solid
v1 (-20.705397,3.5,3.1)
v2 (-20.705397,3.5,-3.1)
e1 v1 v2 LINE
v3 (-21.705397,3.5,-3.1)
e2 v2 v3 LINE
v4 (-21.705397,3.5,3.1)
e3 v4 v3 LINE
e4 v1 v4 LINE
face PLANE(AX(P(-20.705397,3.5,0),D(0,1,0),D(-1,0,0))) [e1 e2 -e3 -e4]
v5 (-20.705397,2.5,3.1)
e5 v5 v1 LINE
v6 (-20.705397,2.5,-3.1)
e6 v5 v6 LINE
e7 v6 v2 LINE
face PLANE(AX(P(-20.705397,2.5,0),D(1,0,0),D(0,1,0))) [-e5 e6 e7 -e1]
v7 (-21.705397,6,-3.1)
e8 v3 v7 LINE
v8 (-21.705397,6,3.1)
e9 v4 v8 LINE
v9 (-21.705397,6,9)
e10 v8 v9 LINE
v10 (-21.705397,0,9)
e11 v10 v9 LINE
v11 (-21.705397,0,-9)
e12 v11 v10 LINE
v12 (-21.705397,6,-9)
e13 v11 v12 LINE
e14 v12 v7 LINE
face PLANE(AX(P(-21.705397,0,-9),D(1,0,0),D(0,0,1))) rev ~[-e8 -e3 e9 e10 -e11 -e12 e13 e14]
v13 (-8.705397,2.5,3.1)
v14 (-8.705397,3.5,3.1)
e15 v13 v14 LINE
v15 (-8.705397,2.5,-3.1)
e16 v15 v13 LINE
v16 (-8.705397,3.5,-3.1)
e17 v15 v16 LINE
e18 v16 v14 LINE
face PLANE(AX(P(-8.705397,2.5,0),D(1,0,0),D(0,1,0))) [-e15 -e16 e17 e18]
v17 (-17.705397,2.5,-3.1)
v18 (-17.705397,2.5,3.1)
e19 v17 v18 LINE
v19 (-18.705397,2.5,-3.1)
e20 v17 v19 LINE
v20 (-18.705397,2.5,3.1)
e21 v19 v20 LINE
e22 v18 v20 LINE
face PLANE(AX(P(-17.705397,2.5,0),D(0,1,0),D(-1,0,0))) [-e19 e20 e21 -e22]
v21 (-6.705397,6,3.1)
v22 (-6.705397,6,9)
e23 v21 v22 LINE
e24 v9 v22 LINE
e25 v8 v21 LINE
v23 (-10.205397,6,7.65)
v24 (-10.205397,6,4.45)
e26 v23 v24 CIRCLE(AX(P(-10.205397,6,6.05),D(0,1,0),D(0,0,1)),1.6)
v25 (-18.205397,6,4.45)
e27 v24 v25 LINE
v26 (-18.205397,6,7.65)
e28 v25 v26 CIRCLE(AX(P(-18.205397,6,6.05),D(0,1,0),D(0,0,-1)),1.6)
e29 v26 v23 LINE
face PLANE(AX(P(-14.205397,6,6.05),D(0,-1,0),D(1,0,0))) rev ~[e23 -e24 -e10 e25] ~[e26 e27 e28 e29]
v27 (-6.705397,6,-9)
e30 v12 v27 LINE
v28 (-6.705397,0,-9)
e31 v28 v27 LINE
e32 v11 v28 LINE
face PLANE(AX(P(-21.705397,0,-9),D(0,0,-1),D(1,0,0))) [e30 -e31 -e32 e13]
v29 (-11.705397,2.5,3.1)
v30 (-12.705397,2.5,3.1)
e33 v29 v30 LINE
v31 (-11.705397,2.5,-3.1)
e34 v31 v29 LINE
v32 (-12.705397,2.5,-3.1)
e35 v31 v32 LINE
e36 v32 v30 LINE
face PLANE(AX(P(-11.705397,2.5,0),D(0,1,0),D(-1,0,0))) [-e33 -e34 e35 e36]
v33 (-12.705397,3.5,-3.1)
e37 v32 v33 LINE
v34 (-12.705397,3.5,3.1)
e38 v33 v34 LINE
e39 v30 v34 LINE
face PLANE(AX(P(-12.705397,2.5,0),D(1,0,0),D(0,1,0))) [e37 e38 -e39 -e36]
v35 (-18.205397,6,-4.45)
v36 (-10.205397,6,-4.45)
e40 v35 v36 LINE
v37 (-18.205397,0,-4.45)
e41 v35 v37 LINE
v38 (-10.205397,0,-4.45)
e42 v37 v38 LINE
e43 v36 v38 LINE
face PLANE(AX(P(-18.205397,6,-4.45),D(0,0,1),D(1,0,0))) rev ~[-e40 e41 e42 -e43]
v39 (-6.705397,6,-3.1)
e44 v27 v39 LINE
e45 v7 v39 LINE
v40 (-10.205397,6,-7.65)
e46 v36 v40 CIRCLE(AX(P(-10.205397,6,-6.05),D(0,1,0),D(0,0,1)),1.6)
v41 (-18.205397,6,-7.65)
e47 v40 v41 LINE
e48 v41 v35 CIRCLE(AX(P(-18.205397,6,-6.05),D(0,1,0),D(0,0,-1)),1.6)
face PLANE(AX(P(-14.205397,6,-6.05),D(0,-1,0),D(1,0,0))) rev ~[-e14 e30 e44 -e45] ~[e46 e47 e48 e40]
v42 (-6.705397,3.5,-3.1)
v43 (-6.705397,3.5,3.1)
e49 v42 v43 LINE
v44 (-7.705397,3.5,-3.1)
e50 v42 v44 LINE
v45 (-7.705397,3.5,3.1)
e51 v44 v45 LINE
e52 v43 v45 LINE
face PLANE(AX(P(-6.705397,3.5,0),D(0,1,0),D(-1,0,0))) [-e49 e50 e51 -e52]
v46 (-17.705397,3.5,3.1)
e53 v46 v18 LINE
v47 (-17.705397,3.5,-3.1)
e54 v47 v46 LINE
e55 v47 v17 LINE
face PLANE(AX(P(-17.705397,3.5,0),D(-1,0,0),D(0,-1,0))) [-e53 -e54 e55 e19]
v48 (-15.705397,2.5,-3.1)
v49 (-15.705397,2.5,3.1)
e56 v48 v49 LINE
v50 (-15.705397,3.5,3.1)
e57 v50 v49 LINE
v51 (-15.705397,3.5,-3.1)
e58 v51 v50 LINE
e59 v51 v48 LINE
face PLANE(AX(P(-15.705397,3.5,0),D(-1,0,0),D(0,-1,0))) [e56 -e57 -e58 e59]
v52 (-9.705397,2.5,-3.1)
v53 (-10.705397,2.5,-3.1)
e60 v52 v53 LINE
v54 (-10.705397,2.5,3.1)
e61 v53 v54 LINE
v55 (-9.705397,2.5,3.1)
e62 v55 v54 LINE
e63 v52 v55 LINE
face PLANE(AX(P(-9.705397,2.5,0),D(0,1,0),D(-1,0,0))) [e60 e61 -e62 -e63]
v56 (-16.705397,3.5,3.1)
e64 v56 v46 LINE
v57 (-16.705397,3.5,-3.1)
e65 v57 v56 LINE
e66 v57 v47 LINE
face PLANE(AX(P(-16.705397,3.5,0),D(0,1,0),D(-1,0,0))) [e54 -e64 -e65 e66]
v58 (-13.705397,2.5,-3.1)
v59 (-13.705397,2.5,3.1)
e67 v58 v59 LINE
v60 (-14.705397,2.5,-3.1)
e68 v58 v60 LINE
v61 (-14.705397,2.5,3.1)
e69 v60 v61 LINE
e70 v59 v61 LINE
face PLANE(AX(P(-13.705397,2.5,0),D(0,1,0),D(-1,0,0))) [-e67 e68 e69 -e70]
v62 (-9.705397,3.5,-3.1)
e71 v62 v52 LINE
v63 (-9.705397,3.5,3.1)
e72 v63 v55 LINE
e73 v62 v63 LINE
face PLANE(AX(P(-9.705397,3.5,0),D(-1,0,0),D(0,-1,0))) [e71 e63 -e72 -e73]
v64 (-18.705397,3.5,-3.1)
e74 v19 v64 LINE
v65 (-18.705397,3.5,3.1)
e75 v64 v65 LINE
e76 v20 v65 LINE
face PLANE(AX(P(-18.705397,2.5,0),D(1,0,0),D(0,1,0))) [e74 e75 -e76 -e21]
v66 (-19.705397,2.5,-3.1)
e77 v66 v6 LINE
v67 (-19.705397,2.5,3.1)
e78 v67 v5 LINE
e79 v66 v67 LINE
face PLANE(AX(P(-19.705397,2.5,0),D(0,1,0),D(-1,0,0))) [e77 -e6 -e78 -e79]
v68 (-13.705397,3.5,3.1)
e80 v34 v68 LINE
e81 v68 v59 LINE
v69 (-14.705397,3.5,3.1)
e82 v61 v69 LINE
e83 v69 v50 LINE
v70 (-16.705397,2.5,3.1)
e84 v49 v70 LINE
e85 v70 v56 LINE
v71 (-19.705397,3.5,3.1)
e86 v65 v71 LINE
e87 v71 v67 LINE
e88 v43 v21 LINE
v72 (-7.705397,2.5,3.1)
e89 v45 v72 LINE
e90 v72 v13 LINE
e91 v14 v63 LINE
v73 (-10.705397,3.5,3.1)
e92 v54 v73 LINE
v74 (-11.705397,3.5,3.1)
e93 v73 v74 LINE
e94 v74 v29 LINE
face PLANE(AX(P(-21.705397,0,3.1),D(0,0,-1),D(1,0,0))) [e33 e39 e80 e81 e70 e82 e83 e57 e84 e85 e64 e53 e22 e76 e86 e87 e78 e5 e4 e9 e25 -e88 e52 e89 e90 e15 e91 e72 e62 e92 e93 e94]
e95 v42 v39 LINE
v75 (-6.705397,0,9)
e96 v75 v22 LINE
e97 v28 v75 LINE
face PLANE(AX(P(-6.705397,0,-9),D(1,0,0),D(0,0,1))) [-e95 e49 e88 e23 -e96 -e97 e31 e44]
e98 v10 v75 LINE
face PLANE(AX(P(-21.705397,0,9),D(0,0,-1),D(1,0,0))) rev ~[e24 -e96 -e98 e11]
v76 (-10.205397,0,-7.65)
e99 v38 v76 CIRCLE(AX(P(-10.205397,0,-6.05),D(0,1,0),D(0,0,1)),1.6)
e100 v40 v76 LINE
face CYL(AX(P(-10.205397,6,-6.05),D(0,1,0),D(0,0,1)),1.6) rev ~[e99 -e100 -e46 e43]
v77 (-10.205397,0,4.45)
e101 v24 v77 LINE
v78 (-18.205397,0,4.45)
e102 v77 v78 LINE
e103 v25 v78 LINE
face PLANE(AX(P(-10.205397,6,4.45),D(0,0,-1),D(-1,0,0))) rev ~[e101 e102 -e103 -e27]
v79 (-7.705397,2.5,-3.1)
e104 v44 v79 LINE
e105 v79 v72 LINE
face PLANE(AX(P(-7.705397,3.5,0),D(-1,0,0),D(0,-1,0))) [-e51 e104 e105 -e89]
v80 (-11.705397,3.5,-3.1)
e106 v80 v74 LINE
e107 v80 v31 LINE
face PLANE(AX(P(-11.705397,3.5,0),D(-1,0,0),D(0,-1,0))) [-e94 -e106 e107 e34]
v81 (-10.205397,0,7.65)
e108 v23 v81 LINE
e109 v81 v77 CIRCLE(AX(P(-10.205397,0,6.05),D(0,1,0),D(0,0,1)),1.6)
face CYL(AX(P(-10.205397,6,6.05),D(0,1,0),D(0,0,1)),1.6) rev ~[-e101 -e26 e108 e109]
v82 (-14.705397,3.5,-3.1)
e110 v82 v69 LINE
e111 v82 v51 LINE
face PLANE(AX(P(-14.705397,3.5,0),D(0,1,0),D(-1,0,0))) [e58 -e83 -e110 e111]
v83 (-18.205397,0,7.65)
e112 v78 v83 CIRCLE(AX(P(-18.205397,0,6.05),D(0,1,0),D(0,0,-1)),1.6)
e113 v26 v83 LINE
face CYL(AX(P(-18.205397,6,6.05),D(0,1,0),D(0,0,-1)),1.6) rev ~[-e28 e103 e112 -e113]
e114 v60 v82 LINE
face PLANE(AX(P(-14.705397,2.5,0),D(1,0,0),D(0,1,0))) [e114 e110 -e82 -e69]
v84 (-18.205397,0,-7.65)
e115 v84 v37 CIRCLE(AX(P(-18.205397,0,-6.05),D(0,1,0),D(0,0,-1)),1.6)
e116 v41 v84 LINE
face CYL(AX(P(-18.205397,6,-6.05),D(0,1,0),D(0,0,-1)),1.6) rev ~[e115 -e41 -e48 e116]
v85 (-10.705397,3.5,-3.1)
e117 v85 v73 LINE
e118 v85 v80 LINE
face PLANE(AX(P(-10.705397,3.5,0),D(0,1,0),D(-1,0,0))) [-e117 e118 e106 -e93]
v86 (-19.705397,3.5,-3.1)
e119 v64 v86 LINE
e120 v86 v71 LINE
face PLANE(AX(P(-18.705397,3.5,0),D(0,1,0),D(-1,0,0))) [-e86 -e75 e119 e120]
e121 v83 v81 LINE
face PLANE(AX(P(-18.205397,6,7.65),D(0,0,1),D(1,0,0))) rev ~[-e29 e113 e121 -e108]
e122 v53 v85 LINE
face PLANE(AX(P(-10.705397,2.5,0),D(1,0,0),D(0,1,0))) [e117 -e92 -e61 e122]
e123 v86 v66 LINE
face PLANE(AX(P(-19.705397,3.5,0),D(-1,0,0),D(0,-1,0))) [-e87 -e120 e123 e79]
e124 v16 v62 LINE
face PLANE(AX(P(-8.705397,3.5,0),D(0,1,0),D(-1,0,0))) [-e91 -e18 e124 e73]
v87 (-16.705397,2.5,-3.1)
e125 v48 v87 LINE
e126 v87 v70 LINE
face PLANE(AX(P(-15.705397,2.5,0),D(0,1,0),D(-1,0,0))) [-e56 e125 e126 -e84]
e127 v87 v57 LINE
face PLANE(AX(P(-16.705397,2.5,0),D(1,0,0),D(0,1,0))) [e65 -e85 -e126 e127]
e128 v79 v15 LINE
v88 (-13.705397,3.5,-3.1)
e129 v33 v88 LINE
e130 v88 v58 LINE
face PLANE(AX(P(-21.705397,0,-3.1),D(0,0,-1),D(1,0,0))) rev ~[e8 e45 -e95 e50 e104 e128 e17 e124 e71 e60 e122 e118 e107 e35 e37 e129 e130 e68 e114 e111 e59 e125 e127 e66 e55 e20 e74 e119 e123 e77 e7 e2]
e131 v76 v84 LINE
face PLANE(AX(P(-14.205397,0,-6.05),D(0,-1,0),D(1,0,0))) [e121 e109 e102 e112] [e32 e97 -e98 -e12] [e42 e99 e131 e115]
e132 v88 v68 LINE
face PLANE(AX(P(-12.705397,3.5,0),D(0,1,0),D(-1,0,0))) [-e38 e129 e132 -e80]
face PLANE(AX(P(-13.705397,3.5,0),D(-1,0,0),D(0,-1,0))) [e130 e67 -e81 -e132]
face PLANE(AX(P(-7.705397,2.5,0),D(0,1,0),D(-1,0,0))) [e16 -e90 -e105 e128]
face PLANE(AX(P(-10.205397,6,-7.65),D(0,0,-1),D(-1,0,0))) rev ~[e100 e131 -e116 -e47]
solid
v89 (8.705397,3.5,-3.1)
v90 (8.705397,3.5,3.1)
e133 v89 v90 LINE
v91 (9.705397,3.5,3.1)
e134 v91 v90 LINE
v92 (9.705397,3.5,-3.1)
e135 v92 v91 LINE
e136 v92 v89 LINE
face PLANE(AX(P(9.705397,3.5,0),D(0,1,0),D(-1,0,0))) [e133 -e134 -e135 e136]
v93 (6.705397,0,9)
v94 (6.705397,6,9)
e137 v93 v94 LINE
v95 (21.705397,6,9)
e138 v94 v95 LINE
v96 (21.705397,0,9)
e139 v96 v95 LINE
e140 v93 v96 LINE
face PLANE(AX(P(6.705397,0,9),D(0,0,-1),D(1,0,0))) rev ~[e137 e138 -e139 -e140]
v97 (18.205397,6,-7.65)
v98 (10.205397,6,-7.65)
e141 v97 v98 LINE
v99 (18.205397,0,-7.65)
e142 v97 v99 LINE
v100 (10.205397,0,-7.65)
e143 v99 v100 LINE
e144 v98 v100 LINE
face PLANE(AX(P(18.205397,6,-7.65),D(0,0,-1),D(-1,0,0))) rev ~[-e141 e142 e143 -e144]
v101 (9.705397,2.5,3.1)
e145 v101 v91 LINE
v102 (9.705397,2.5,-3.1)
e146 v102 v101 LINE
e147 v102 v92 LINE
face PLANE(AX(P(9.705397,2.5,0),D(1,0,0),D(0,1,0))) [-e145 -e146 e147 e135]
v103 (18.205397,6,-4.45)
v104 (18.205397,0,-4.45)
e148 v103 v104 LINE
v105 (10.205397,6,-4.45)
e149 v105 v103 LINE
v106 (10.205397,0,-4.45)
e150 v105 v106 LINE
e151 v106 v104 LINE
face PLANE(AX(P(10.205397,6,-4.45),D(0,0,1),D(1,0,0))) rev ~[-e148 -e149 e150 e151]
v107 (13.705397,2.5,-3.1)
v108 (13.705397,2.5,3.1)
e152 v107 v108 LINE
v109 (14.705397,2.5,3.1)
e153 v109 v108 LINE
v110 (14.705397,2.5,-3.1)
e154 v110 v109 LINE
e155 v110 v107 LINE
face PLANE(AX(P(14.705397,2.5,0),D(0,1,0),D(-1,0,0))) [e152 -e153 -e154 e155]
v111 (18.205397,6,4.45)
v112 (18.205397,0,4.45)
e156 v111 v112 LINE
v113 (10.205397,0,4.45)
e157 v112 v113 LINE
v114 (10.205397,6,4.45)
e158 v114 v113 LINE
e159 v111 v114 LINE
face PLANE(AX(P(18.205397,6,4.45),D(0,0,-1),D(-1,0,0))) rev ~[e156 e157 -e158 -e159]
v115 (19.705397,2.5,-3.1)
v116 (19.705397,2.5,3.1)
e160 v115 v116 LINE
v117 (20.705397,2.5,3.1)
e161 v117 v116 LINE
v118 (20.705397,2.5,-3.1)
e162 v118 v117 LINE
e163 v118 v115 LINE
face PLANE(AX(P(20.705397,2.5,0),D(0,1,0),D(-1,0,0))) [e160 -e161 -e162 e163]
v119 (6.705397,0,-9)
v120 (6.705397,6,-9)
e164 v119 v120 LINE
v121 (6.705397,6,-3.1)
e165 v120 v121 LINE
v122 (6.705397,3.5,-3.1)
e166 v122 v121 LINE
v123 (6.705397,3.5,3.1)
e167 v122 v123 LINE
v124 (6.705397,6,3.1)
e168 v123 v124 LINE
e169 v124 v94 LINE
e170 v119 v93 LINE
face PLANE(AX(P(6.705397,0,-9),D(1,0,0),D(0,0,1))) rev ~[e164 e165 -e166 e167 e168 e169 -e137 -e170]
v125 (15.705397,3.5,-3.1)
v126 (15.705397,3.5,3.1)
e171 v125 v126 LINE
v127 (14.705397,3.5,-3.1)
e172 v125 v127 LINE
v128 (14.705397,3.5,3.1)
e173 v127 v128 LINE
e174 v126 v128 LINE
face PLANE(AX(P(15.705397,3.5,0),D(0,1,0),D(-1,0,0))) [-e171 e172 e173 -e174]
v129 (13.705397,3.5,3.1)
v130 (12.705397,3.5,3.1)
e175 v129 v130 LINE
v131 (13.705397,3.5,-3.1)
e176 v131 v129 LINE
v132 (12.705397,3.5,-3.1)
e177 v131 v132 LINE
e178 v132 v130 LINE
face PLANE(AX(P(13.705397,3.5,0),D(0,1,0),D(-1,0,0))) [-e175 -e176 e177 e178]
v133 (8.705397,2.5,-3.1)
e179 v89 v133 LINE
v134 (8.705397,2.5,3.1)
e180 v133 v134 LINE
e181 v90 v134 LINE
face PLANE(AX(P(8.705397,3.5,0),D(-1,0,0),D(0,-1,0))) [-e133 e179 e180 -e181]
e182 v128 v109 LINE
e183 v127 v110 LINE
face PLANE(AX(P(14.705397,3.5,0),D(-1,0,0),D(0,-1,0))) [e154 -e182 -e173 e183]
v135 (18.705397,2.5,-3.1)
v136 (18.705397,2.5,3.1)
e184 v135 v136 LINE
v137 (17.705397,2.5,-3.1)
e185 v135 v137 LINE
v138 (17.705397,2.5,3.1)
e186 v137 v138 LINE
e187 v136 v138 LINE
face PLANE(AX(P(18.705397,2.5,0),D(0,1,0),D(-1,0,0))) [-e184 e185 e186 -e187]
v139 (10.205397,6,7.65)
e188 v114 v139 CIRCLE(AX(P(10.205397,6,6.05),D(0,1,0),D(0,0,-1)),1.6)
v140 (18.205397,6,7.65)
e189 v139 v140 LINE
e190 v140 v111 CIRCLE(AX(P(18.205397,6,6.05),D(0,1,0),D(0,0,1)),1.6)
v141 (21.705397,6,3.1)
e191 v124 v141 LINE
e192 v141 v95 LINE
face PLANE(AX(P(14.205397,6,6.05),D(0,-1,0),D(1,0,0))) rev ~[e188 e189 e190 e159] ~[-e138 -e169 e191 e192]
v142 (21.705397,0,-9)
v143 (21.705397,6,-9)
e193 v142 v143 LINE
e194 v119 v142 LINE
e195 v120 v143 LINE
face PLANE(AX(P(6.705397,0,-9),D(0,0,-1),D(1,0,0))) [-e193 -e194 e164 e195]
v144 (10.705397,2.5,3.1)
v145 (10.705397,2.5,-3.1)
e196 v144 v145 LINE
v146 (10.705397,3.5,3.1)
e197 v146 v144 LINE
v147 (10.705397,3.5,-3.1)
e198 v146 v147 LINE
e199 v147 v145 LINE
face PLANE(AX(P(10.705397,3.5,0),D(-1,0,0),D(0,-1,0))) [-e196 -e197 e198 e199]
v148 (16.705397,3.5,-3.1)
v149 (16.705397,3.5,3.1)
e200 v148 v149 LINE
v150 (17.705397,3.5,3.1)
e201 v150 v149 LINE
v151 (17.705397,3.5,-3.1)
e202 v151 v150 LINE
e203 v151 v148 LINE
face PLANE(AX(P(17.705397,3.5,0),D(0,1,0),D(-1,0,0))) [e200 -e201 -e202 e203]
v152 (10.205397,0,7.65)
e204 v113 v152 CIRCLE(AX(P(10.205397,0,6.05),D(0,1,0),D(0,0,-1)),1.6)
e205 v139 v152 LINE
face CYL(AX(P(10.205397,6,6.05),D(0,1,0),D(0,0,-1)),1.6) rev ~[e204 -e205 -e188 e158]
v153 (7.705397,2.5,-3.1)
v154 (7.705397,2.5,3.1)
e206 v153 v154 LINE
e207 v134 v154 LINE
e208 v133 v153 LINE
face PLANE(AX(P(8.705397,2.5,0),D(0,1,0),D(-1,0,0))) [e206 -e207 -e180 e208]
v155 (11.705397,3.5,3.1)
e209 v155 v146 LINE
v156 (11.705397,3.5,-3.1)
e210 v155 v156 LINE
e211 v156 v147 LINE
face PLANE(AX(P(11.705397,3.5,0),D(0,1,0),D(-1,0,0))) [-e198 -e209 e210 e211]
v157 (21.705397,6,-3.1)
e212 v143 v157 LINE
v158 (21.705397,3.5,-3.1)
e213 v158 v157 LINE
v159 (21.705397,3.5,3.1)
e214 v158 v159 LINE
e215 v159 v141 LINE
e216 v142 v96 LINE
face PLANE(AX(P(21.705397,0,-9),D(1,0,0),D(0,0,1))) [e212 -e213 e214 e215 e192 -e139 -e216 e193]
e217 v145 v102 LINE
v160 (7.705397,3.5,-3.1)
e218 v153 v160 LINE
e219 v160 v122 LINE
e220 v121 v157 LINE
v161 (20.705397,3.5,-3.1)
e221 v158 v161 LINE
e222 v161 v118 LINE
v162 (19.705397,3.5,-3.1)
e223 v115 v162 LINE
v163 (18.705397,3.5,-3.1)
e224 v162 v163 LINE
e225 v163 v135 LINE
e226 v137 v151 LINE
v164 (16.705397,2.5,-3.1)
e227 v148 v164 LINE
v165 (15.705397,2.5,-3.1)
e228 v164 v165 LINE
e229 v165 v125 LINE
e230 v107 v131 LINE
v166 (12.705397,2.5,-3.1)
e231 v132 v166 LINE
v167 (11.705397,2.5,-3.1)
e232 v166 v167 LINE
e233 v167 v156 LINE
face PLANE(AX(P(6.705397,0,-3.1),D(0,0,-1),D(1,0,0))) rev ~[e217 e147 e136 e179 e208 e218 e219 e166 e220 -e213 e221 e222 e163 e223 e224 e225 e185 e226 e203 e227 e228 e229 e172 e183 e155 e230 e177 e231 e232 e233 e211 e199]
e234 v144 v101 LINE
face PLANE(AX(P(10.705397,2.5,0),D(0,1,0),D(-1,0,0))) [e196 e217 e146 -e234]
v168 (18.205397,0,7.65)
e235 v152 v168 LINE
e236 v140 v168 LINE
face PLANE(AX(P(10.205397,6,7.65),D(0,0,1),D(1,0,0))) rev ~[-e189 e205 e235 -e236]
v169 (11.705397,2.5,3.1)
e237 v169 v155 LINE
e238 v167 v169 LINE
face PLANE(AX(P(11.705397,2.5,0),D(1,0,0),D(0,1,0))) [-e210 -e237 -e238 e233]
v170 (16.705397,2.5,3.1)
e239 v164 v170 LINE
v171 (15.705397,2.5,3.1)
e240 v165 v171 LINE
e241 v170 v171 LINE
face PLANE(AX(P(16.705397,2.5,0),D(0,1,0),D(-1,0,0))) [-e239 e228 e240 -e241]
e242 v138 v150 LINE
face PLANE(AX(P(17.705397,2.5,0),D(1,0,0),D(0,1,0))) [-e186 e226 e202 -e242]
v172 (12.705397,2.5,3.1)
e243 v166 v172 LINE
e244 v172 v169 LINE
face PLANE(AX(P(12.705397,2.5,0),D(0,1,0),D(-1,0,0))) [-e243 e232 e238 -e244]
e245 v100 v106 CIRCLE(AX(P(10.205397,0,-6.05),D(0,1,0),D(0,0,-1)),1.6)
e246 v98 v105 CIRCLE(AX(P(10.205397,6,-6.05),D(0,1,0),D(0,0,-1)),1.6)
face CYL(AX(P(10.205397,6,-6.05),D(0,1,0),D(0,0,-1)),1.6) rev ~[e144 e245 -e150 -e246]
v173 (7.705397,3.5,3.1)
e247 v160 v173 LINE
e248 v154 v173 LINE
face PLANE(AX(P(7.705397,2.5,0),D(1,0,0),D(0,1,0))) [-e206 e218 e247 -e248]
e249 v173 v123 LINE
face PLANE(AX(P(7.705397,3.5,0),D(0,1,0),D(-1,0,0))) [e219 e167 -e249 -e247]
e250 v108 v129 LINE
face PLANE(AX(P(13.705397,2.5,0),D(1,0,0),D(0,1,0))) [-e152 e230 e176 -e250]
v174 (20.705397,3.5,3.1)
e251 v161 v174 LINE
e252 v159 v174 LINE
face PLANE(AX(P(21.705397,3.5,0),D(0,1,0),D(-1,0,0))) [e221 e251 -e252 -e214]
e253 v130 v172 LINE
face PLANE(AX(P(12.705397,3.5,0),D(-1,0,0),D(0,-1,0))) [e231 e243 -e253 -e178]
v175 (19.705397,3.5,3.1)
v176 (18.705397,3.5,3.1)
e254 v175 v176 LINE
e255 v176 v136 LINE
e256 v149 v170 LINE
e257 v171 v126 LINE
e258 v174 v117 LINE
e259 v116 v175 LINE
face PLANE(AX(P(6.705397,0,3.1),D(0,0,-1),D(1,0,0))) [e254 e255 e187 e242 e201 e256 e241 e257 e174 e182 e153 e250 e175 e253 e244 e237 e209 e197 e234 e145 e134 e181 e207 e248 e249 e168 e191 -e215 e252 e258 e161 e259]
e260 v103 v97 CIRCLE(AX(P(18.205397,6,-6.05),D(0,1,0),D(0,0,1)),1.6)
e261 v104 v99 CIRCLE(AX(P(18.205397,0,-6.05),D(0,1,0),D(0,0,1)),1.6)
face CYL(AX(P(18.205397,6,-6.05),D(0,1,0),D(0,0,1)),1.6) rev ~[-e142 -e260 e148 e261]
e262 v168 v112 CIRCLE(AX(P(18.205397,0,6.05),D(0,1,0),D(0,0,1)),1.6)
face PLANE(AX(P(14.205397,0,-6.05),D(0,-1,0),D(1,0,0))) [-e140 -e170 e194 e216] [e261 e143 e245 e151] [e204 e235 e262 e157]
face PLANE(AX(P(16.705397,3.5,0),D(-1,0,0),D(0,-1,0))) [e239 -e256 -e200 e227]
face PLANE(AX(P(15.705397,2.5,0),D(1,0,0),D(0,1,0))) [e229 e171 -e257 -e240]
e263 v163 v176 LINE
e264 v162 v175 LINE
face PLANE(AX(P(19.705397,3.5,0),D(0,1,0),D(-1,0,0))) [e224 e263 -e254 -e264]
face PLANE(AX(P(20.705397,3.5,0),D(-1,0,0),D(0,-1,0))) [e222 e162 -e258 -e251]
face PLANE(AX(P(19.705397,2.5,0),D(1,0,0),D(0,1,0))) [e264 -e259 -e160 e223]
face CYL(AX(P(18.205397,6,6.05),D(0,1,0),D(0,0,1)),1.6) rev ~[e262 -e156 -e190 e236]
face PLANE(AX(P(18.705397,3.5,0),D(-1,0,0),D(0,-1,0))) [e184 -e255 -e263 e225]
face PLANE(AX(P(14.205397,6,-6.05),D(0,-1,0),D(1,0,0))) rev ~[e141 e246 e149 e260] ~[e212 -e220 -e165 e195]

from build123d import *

# Parameters (mm, degrees)
F1_DEPTH      = 3.1
F1_DEPTH_BACK = 3.1
F2_DEPTH      = 3.1
F2_DEPTH_BACK = 3.1
F3_W          = 15
F3_H          = 5.9
F4_DEPTH      = 6
F5_DEPTH      = 6
F7_DEPTH      = 6
F8_DEPTH      = 6


with BuildPart() as f1:
    # F0 (on Top) → F1 (new body, two sides)
    with BuildSketch(Plane.XY) as f1_sk:
        Polygon((-21.705397, 3.5), (-21.705397, 0), (-6.705397, 0), (-6.705397, 2.5), (-6.705397, 3.5), (-7.705397, 3.5), (-7.705397, 2.5), (-8.705397, 2.5), (-8.705397, 3.5), (-9.705397, 3.5), (-9.705397, 2.5), (-10.705397, 2.5), (-10.705397, 3.5), (-11.705397, 3.5), (-11.705397, 2.5), (-12.705397, 2.5), (-12.705397, 3.5), (-13.705397, 3.5), (-13.705397, 2.5), (-14.705397, 2.5), (-14.705397, 3.5), (-15.705397, 3.5), (-15.705397, 2.5), (-16.705397, 2.5), (-16.705397, 3.5), (-17.705397, 3.5), (-17.705397, 2.5), (-18.705397, 2.5), (-18.705397, 3.5), (-19.705397, 3.5), (-19.705397, 2.5), (-20.705397, 2.5), (-20.705397, 3.5), align=None)
    extrude(amount=F1_DEPTH)
    extrude(f1_sk.sketch, amount=-F1_DEPTH_BACK)

    # F3 (on face) → F5 (join)
    with BuildSketch(Plane.XZ):
        with Locations((-14.205397, -6.05)):
            Rectangle(F3_W, F3_H)
        with Locations((-14.205397, 6.05)):
            Rectangle(F3_W, F3_H)
    extrude(amount=-F5_DEPTH)

    # F6 (on face) → F7 (cut, through all)
    with BuildSketch(Plane(origin=(0, 6, 0), x_dir=(-1, 0, 0), z_dir=(0, 1, 0))):
        with BuildLine():
            Line((10.205397, -7.65), (18.205397, -7.65))
            ThreePointArc((18.205397, -7.65), (19.805397, -6.05), (18.205397, -4.45))
            Line((18.205397, -4.45), (10.205397, -4.45))
            ThreePointArc((10.205397, -4.45), (8.605397, -6.05), (10.205397, -7.65))
        make_face()
        with BuildLine():
            Line((10.205397, 4.45), (18.205397, 4.45))
            ThreePointArc((18.205397, 4.45), (19.805397, 6.05), (18.205397, 7.65))
            Line((18.205397, 7.65), (10.205397, 7.65))
            ThreePointArc((10.205397, 7.65), (8.605397, 6.05), (10.205397, 4.45))
        make_face()
    extrude(amount=-F7_DEPTH, mode=Mode.SUBTRACT)


with BuildPart() as f2:
    # F0 (on Top) → F2 (new body, two sides)
    with BuildSketch(Plane.XY) as f2_sk:
        Polygon((10.705397, 2.5), (9.705397, 2.5), (9.705397, 3.5), (8.705397, 3.5), (8.705397, 2.5), (7.705397, 2.5), (7.705397, 3.5), (6.705397, 3.5), (6.705397, 2.5), (6.705397, 0), (21.705397, 0), (21.705397, 3.5), (20.705397, 3.5), (20.705397, 2.5), (19.705397, 2.5), (19.705397, 3.5), (18.705397, 3.5), (18.705397, 2.5), (17.705397, 2.5), (17.705397, 3.5), (16.705397, 3.5), (16.705397, 2.5), (15.705397, 2.5), (15.705397, 3.5), (14.705397, 3.5), (14.705397, 2.5), (13.705397, 2.5), (13.705397, 3.5), (12.705397, 3.5), (12.705397, 2.5), (11.705397, 2.5), (11.705397, 3.5), (10.705397, 3.5), align=None)
    extrude(amount=F2_DEPTH)
    extrude(f2_sk.sketch, amount=-F2_DEPTH_BACK)

    # F3 (on face) → F4 (join)
    with BuildSketch(Plane.XZ):
        with Locations((14.205397, -6.05)):
            Rectangle(F3_W, F3_H)
        with Locations((14.205397, 6.05)):
            Rectangle(F3_W, F3_H)
    extrude(amount=-F4_DEPTH)

    # F6 (on face) → F8 (cut, through all)
    with BuildSketch(Plane(origin=(0, 6, 0), x_dir=(-1, 0, 0), z_dir=(0, 1, 0))):
        with BuildLine():
            ThreePointArc((-10.205397, -7.65), (-8.605397, -6.05), (-10.205397, -4.45))
            Line((-10.205397, -4.45), (-18.205397, -4.45))
            ThreePointArc((-18.205397, -4.45), (-19.805397, -6.05), (-18.205397, -7.65))
            Line((-18.205397, -7.65), (-10.205397, -7.65))
        make_face()
        with BuildLine():
            ThreePointArc((-18.205397, 7.65), (-19.805397, 6.05), (-18.205397, 4.45))
            Line((-18.205397, 4.45), (-10.205397, 4.45))
            ThreePointArc((-10.205397, 4.45), (-8.605397, 6.05), (-10.205397, 7.65))
            Line((-10.205397, 7.65), (-18.205397, 7.65))
        make_face()
    extrude(amount=-F8_DEPTH, mode=Mode.SUBTRACT)


solid = Compound([f1.part, f2.part])
